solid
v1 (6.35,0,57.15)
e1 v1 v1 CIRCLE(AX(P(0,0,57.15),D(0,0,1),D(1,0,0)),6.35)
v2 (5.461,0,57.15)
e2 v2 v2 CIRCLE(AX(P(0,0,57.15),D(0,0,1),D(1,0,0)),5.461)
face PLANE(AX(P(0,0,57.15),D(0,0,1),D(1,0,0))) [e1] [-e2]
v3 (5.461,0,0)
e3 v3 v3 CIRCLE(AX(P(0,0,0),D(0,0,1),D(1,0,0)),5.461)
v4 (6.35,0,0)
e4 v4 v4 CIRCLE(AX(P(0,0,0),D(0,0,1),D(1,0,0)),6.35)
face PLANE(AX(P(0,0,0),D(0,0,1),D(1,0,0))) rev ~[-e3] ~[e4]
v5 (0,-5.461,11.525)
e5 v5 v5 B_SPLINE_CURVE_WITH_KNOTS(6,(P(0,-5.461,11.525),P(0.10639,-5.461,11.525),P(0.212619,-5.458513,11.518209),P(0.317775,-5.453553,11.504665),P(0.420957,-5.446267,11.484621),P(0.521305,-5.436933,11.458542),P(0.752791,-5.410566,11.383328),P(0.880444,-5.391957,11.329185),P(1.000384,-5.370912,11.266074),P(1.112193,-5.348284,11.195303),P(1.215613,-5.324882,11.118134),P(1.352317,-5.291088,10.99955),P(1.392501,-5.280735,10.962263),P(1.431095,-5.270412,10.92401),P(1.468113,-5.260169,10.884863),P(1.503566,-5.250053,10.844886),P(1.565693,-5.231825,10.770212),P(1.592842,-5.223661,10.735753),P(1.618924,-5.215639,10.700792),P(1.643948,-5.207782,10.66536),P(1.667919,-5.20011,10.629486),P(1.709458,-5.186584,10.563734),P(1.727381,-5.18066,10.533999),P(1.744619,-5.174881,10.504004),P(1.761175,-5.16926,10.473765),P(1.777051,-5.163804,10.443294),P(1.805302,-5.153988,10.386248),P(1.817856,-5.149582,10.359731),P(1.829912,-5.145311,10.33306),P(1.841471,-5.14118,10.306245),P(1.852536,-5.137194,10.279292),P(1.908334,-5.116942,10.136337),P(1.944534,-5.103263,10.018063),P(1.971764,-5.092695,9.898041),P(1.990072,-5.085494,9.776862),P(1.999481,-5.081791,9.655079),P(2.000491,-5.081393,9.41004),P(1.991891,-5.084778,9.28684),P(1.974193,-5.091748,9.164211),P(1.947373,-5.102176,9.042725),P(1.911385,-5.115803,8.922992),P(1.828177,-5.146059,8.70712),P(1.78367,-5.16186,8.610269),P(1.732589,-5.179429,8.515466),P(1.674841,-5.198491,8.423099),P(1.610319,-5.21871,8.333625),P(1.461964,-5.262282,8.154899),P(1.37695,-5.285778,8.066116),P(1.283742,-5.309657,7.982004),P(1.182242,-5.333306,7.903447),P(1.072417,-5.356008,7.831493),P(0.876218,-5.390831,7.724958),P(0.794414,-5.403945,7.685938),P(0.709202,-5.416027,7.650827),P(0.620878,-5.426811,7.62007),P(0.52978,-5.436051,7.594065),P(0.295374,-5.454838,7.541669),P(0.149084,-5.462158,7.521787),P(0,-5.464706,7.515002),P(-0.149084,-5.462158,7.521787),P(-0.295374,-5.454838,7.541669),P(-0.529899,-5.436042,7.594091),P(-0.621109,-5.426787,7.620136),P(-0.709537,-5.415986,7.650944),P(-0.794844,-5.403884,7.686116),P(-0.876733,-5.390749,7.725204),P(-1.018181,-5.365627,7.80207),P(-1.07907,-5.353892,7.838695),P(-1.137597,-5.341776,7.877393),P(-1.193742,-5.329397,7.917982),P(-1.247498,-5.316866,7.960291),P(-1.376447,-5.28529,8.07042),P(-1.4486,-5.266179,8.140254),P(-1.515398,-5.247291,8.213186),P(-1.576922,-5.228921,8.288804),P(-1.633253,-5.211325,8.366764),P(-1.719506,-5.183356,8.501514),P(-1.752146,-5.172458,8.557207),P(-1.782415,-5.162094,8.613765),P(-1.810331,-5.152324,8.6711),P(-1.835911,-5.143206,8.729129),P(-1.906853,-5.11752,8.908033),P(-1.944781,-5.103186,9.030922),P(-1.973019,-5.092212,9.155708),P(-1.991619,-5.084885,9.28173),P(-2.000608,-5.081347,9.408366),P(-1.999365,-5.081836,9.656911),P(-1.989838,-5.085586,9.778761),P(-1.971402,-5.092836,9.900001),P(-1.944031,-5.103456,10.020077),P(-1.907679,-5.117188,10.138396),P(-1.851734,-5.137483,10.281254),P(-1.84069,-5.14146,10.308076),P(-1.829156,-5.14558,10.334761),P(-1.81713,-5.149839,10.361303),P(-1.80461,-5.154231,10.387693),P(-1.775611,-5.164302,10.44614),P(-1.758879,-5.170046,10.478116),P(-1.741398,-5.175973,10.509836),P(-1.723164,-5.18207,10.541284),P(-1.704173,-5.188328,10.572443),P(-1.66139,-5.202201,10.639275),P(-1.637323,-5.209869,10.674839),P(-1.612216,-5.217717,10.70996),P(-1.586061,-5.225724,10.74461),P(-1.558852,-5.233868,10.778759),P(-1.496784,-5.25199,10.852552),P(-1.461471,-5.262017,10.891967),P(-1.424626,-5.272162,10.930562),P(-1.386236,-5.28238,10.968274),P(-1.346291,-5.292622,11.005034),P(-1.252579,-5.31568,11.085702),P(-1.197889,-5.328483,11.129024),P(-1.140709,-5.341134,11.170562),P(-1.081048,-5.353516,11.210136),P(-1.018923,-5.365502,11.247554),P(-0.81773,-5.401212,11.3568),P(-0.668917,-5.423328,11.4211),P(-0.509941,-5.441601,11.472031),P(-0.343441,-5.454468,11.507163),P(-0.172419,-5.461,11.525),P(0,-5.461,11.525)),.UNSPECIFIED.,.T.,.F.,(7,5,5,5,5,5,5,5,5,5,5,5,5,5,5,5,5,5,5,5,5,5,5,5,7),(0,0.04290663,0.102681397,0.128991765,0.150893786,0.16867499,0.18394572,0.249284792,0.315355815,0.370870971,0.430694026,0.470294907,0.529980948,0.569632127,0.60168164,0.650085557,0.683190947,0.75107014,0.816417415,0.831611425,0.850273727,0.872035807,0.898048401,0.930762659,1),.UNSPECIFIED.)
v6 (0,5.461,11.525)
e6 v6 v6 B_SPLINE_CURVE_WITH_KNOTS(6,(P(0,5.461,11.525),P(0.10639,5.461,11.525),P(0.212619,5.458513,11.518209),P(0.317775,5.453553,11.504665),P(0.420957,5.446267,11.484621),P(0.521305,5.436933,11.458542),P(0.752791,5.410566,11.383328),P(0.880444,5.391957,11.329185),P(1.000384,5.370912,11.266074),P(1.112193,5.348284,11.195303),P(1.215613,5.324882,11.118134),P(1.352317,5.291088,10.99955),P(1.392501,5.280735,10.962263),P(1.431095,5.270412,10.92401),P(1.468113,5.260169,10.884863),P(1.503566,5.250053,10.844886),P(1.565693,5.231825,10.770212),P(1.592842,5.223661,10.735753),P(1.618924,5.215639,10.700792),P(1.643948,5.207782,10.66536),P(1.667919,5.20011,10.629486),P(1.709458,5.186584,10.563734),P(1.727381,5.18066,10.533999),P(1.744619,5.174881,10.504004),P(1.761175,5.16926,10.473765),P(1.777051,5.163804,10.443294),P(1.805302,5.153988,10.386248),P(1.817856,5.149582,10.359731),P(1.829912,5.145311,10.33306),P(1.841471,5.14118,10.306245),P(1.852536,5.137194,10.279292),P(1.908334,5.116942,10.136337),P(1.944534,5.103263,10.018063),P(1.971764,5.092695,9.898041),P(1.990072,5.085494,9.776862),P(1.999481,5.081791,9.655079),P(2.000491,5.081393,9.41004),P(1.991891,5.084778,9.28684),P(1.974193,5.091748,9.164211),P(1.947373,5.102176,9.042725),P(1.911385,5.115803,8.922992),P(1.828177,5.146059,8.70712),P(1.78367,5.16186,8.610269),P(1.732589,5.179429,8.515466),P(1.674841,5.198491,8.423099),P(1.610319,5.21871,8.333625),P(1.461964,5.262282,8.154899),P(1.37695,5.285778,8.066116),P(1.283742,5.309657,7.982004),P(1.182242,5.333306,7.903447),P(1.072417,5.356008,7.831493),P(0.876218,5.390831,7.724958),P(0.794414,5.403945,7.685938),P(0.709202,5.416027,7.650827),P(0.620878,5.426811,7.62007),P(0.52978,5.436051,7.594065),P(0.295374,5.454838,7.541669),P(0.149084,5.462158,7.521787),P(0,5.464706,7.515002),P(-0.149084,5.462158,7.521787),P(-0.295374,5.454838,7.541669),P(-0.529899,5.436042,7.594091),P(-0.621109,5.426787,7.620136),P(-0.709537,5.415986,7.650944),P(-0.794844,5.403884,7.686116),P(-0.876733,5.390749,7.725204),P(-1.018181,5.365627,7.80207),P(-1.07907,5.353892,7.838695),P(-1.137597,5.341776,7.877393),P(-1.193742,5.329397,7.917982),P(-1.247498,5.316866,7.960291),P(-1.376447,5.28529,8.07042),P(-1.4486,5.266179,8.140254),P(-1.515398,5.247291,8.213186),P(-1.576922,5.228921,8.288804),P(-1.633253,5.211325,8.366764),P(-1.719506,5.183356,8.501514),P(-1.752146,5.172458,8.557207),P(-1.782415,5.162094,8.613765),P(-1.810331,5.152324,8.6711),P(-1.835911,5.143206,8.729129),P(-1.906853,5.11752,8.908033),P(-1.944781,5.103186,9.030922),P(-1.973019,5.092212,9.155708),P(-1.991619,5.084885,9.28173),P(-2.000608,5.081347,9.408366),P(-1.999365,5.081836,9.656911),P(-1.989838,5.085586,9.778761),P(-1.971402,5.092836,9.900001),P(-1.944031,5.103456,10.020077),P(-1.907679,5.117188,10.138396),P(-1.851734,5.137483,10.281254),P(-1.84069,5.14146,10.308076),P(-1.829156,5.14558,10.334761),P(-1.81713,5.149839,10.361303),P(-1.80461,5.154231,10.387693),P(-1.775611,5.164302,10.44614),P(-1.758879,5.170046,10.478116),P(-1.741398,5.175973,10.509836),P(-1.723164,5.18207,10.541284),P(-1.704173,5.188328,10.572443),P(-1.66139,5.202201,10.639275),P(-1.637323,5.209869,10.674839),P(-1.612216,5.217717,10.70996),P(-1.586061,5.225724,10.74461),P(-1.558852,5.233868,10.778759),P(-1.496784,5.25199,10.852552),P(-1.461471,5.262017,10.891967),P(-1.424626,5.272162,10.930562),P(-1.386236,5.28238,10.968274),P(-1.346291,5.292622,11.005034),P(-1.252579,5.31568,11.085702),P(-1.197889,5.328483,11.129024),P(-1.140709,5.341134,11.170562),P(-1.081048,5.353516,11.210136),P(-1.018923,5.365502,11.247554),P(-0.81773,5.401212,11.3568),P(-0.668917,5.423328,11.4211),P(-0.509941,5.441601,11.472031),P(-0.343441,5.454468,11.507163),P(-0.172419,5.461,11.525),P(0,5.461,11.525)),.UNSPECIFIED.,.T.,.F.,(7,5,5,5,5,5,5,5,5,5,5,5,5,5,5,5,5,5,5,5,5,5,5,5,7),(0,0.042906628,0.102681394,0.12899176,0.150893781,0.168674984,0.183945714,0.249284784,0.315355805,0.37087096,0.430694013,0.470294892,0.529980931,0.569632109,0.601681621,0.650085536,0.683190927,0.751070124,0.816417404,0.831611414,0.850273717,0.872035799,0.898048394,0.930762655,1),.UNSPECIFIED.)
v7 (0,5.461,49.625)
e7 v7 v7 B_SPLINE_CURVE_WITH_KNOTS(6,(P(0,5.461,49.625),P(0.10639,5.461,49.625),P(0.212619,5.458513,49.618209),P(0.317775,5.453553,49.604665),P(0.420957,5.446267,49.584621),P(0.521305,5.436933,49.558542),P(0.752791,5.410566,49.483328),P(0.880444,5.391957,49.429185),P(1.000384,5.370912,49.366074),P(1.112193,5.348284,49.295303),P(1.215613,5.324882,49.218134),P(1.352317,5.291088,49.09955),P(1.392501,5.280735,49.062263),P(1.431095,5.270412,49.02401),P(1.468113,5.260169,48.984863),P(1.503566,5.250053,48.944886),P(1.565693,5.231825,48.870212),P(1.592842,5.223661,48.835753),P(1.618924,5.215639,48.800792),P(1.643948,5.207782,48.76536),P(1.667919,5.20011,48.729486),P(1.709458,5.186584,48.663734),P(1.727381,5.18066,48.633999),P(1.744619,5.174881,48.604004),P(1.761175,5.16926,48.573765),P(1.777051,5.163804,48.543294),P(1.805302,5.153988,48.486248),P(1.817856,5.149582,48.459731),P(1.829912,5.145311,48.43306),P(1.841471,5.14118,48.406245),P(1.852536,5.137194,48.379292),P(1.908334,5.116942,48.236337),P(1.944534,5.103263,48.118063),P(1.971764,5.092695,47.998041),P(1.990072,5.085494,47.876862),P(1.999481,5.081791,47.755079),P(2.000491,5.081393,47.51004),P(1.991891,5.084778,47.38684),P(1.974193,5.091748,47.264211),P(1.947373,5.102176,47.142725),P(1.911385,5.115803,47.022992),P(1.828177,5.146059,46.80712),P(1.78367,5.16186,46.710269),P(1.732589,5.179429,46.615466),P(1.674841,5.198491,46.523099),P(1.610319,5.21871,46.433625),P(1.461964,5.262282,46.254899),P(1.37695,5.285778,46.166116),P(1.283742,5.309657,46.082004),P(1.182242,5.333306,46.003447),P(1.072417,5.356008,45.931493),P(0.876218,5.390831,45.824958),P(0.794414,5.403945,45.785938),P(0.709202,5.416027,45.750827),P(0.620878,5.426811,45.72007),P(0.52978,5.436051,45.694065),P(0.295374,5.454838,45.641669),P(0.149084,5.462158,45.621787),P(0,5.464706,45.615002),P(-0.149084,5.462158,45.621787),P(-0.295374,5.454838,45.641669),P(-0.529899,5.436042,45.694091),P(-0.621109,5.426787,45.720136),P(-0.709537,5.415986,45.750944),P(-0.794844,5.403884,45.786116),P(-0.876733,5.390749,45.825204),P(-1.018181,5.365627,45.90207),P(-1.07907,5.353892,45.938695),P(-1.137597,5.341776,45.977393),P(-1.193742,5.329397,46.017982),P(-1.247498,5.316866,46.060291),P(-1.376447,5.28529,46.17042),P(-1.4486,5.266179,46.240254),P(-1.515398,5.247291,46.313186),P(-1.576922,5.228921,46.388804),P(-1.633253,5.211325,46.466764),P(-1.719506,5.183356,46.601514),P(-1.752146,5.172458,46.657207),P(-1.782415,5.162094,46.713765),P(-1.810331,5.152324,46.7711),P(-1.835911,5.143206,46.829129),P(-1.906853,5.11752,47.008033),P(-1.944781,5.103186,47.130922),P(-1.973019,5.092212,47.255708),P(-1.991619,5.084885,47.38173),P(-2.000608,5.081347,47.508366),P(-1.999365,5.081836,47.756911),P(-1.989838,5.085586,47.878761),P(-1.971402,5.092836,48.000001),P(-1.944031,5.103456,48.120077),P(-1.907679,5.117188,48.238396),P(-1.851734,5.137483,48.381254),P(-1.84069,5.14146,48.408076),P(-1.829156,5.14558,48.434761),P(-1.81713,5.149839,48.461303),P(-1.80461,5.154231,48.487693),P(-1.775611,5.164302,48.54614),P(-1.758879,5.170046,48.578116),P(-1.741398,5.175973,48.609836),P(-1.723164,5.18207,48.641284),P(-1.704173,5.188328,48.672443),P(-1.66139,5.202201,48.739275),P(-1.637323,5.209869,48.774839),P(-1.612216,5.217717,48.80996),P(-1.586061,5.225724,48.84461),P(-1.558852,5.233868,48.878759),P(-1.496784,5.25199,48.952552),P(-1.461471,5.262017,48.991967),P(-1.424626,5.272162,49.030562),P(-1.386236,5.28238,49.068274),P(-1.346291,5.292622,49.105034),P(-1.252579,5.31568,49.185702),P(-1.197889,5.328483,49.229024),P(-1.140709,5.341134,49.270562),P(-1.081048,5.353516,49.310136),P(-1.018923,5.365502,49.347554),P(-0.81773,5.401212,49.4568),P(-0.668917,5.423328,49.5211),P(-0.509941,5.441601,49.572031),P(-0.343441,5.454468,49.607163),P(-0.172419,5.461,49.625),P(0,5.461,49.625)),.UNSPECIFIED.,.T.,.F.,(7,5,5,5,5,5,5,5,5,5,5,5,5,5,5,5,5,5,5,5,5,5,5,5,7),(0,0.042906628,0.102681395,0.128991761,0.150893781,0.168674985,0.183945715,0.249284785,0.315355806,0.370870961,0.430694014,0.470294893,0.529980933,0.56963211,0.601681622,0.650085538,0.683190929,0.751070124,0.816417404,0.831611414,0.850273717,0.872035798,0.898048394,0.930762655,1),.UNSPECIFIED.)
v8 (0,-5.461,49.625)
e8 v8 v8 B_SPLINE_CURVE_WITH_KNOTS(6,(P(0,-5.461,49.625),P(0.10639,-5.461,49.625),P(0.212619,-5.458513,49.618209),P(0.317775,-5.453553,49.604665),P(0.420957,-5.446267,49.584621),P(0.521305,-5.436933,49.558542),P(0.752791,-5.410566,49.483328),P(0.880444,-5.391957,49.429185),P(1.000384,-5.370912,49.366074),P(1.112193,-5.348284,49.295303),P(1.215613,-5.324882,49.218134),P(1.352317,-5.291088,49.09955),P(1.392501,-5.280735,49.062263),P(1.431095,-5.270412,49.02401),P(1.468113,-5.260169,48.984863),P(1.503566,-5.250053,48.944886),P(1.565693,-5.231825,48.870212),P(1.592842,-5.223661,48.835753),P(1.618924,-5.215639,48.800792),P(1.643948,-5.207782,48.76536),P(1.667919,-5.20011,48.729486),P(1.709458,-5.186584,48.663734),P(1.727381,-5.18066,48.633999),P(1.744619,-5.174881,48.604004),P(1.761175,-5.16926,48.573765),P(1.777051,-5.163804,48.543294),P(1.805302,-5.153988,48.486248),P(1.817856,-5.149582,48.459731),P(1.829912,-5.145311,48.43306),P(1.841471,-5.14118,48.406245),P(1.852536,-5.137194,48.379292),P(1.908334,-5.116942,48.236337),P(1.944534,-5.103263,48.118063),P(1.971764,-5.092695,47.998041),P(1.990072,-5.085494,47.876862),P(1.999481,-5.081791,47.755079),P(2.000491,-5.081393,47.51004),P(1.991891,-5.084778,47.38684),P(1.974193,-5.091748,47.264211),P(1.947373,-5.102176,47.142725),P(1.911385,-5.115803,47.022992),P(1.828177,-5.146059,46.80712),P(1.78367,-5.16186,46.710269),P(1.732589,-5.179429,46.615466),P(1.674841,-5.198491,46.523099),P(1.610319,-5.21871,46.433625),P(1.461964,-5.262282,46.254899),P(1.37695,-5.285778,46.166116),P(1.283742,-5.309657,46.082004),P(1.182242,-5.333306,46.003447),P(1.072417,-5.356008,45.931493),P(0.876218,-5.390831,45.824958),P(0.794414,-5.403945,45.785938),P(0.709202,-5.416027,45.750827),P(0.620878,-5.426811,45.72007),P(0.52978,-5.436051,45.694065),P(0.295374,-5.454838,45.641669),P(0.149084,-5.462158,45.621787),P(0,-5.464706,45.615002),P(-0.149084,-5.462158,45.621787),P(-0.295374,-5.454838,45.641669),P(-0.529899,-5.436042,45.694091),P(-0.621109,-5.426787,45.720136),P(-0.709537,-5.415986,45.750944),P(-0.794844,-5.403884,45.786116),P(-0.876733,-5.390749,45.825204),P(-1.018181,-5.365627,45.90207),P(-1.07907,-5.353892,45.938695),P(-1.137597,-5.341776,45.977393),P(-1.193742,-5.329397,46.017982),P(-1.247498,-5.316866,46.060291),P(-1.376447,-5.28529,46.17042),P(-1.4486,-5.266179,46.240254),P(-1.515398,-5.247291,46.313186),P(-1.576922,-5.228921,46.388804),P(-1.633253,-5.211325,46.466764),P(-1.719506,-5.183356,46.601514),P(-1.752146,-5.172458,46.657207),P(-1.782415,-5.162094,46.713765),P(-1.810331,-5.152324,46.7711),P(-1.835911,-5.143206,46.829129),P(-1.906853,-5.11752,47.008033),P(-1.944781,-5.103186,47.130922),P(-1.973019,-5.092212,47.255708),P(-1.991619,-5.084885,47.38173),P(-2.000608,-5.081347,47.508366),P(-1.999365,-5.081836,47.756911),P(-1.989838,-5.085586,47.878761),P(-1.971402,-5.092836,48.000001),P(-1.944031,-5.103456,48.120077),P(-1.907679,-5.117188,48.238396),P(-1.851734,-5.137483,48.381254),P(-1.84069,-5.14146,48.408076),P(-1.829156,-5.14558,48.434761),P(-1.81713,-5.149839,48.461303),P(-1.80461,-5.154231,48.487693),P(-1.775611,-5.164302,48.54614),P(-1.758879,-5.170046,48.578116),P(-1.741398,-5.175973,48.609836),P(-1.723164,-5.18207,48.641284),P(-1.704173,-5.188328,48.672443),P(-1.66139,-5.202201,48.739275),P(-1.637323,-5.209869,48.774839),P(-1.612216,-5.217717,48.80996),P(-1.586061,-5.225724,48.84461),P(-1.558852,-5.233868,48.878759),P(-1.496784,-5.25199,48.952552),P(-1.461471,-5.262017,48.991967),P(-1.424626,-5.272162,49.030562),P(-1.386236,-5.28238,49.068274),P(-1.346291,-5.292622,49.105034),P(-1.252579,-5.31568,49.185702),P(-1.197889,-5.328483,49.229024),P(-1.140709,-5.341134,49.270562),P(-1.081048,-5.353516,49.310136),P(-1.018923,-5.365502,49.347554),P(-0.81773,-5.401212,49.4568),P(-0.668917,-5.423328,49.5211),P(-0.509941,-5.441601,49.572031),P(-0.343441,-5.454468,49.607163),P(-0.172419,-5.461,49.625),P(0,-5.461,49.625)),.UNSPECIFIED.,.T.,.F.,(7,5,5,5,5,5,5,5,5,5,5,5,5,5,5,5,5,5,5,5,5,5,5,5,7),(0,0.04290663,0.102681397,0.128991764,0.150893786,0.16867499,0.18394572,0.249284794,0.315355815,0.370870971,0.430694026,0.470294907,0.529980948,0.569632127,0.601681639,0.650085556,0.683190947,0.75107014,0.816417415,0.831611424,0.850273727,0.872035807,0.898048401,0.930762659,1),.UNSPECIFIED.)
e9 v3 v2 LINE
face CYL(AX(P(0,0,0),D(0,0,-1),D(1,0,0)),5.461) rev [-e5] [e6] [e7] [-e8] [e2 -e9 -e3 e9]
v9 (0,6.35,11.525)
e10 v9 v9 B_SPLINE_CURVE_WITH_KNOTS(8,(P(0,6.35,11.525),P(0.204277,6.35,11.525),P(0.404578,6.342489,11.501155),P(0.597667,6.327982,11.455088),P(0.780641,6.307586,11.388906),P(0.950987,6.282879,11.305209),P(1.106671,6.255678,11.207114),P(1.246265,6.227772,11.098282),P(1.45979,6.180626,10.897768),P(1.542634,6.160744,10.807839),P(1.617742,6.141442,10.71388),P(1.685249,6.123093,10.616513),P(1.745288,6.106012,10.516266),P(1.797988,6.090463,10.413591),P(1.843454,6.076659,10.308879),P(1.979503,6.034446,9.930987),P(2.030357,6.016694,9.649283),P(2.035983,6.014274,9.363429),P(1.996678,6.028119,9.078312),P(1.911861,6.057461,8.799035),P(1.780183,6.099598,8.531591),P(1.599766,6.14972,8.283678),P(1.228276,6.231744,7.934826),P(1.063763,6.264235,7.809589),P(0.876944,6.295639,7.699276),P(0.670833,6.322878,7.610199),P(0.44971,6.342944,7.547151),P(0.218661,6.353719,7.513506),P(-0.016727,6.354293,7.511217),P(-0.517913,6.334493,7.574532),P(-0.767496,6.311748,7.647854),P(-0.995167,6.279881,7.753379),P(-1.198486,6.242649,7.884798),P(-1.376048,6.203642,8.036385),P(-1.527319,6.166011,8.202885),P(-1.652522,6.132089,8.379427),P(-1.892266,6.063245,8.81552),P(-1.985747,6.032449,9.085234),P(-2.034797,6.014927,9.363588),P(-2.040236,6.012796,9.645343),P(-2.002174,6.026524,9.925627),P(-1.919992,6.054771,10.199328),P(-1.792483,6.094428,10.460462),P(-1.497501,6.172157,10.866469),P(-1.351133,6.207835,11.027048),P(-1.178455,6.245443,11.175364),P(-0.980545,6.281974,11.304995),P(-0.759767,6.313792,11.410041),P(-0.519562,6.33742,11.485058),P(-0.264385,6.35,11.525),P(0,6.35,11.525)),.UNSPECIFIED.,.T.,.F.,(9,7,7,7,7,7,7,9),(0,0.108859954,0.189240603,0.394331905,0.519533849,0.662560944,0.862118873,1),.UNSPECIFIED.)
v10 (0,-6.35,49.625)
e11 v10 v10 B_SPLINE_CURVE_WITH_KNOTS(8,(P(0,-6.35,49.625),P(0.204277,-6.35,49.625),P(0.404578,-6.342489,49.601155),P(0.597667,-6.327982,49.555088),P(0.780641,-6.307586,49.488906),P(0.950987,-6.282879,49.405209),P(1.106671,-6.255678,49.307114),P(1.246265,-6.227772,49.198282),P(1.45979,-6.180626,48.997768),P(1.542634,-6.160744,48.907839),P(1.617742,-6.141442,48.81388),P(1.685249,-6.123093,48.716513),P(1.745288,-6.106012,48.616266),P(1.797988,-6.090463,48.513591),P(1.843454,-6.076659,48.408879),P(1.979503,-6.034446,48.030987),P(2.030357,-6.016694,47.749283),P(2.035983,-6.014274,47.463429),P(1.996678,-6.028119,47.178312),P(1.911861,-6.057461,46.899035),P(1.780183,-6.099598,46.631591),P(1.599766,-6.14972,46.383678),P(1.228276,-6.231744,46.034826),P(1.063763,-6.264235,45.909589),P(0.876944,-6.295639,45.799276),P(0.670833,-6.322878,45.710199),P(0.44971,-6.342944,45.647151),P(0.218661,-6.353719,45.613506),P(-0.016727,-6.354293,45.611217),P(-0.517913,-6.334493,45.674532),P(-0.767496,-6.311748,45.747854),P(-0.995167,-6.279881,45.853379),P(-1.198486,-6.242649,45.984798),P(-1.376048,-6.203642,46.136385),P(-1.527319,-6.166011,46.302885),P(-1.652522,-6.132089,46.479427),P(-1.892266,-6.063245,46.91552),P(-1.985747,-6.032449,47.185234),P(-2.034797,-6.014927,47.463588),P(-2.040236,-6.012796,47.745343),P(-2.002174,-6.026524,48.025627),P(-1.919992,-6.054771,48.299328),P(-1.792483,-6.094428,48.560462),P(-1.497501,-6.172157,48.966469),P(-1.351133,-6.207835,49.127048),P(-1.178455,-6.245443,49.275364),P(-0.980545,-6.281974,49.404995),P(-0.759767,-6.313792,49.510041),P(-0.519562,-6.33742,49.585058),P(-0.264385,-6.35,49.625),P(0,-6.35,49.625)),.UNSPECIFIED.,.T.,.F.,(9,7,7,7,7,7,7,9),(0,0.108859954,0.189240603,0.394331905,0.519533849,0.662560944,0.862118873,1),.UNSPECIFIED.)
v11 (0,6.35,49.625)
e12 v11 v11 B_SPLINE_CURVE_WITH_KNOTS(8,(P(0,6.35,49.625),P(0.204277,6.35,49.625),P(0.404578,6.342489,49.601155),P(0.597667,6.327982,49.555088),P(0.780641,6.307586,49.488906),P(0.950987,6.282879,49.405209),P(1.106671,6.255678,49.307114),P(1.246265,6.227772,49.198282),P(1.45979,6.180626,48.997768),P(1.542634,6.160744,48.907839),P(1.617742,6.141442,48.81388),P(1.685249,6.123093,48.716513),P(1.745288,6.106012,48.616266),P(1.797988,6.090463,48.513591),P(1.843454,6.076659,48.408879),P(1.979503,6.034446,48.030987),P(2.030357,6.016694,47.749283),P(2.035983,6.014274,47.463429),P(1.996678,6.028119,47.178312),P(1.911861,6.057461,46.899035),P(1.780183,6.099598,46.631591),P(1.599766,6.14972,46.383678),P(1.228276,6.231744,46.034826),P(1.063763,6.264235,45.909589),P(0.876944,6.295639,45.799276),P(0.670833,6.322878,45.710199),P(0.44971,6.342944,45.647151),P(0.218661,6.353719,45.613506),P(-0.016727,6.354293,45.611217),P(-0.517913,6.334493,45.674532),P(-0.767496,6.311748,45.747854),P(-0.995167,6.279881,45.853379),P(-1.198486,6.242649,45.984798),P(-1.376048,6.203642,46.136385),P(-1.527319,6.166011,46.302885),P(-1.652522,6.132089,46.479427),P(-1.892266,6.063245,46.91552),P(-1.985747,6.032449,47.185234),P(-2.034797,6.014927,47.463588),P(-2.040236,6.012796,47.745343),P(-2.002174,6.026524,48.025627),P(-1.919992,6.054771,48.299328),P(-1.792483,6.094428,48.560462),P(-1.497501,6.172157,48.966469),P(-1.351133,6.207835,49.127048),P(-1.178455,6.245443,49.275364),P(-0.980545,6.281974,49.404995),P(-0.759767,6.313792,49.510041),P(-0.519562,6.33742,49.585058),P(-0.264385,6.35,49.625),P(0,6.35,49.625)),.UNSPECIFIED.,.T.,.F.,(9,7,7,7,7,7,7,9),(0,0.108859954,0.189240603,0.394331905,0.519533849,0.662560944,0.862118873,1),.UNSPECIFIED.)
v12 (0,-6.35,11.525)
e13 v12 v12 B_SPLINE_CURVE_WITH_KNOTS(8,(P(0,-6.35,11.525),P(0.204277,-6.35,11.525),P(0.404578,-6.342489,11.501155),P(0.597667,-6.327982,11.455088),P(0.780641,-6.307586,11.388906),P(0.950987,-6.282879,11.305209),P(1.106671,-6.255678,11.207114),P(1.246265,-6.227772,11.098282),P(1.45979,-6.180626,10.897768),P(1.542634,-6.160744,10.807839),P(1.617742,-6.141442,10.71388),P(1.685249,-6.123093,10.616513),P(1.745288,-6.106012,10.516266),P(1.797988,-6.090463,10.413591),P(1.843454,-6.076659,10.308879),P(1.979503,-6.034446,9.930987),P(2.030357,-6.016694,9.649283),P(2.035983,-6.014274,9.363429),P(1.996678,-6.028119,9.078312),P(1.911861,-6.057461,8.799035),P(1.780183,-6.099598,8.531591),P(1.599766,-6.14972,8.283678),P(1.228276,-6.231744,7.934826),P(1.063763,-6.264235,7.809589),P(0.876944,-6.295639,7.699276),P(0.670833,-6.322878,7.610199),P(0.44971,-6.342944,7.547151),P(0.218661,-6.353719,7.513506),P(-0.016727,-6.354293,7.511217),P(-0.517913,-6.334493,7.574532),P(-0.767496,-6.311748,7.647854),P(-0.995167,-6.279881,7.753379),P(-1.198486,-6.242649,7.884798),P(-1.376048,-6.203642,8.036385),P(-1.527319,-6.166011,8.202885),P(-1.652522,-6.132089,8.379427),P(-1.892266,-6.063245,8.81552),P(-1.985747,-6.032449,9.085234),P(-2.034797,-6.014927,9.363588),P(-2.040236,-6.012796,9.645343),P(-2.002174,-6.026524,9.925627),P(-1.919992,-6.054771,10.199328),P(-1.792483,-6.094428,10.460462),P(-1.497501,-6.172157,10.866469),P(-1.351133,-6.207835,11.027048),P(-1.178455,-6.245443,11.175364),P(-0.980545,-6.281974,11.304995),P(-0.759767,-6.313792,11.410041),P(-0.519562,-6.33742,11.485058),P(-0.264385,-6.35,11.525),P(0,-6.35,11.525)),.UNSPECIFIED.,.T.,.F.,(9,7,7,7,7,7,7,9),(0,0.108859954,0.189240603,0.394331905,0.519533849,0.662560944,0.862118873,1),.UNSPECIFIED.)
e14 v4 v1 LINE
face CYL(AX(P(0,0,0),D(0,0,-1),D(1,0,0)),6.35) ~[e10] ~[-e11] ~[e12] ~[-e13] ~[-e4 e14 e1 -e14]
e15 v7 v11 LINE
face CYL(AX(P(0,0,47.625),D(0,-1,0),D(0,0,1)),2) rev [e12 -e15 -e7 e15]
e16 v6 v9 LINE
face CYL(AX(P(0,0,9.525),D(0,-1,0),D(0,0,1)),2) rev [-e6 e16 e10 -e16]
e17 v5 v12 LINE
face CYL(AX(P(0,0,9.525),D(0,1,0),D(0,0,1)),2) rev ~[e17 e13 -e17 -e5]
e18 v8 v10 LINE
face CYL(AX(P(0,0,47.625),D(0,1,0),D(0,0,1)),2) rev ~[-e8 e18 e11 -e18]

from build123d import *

# Parameters (mm, degrees)
SKETCH1_R               = 6.35
SKETCH1_R_2             = 5.461
EXTRUDE1_DEPTH          = 57.15
SKETCH2_R               = 2
CUT_EXTRUDE1_DEPTH      = 38.1
CUT_EXTRUDE1_DEPTH_BACK = 38.1


with BuildPart() as part:
    # Sketch1 → Extrude1 (new body)
    with BuildSketch(Plane.XY):
        Circle(SKETCH1_R)
        Circle(SKETCH1_R_2, mode=Mode.SUBTRACT)
    extrude(amount=EXTRUDE1_DEPTH)

    # Sketch2 → Cut-Extrude1 (cut, two sides)
    with BuildSketch(Plane(origin=(0, 0, 0), x_dir=(1, 0, 0), z_dir=(0, 1, 0))) as cut_extrude1_sk:
        with Locations(Location((0, -9.525, 0), (0, 0, 270))):  # turned: the seam where the file's is
            Circle(SKETCH2_R)
        with Locations(Location((0, -47.625, 0), (0, 0, 270))):  # turned: the seam where the file's is
            Circle(SKETCH2_R)
    extrude(amount=CUT_EXTRUDE1_DEPTH, mode=Mode.SUBTRACT)
    extrude(cut_extrude1_sk.sketch, amount=-CUT_EXTRUDE1_DEPTH_BACK, mode=Mode.SUBTRACT)


solid = part.part
